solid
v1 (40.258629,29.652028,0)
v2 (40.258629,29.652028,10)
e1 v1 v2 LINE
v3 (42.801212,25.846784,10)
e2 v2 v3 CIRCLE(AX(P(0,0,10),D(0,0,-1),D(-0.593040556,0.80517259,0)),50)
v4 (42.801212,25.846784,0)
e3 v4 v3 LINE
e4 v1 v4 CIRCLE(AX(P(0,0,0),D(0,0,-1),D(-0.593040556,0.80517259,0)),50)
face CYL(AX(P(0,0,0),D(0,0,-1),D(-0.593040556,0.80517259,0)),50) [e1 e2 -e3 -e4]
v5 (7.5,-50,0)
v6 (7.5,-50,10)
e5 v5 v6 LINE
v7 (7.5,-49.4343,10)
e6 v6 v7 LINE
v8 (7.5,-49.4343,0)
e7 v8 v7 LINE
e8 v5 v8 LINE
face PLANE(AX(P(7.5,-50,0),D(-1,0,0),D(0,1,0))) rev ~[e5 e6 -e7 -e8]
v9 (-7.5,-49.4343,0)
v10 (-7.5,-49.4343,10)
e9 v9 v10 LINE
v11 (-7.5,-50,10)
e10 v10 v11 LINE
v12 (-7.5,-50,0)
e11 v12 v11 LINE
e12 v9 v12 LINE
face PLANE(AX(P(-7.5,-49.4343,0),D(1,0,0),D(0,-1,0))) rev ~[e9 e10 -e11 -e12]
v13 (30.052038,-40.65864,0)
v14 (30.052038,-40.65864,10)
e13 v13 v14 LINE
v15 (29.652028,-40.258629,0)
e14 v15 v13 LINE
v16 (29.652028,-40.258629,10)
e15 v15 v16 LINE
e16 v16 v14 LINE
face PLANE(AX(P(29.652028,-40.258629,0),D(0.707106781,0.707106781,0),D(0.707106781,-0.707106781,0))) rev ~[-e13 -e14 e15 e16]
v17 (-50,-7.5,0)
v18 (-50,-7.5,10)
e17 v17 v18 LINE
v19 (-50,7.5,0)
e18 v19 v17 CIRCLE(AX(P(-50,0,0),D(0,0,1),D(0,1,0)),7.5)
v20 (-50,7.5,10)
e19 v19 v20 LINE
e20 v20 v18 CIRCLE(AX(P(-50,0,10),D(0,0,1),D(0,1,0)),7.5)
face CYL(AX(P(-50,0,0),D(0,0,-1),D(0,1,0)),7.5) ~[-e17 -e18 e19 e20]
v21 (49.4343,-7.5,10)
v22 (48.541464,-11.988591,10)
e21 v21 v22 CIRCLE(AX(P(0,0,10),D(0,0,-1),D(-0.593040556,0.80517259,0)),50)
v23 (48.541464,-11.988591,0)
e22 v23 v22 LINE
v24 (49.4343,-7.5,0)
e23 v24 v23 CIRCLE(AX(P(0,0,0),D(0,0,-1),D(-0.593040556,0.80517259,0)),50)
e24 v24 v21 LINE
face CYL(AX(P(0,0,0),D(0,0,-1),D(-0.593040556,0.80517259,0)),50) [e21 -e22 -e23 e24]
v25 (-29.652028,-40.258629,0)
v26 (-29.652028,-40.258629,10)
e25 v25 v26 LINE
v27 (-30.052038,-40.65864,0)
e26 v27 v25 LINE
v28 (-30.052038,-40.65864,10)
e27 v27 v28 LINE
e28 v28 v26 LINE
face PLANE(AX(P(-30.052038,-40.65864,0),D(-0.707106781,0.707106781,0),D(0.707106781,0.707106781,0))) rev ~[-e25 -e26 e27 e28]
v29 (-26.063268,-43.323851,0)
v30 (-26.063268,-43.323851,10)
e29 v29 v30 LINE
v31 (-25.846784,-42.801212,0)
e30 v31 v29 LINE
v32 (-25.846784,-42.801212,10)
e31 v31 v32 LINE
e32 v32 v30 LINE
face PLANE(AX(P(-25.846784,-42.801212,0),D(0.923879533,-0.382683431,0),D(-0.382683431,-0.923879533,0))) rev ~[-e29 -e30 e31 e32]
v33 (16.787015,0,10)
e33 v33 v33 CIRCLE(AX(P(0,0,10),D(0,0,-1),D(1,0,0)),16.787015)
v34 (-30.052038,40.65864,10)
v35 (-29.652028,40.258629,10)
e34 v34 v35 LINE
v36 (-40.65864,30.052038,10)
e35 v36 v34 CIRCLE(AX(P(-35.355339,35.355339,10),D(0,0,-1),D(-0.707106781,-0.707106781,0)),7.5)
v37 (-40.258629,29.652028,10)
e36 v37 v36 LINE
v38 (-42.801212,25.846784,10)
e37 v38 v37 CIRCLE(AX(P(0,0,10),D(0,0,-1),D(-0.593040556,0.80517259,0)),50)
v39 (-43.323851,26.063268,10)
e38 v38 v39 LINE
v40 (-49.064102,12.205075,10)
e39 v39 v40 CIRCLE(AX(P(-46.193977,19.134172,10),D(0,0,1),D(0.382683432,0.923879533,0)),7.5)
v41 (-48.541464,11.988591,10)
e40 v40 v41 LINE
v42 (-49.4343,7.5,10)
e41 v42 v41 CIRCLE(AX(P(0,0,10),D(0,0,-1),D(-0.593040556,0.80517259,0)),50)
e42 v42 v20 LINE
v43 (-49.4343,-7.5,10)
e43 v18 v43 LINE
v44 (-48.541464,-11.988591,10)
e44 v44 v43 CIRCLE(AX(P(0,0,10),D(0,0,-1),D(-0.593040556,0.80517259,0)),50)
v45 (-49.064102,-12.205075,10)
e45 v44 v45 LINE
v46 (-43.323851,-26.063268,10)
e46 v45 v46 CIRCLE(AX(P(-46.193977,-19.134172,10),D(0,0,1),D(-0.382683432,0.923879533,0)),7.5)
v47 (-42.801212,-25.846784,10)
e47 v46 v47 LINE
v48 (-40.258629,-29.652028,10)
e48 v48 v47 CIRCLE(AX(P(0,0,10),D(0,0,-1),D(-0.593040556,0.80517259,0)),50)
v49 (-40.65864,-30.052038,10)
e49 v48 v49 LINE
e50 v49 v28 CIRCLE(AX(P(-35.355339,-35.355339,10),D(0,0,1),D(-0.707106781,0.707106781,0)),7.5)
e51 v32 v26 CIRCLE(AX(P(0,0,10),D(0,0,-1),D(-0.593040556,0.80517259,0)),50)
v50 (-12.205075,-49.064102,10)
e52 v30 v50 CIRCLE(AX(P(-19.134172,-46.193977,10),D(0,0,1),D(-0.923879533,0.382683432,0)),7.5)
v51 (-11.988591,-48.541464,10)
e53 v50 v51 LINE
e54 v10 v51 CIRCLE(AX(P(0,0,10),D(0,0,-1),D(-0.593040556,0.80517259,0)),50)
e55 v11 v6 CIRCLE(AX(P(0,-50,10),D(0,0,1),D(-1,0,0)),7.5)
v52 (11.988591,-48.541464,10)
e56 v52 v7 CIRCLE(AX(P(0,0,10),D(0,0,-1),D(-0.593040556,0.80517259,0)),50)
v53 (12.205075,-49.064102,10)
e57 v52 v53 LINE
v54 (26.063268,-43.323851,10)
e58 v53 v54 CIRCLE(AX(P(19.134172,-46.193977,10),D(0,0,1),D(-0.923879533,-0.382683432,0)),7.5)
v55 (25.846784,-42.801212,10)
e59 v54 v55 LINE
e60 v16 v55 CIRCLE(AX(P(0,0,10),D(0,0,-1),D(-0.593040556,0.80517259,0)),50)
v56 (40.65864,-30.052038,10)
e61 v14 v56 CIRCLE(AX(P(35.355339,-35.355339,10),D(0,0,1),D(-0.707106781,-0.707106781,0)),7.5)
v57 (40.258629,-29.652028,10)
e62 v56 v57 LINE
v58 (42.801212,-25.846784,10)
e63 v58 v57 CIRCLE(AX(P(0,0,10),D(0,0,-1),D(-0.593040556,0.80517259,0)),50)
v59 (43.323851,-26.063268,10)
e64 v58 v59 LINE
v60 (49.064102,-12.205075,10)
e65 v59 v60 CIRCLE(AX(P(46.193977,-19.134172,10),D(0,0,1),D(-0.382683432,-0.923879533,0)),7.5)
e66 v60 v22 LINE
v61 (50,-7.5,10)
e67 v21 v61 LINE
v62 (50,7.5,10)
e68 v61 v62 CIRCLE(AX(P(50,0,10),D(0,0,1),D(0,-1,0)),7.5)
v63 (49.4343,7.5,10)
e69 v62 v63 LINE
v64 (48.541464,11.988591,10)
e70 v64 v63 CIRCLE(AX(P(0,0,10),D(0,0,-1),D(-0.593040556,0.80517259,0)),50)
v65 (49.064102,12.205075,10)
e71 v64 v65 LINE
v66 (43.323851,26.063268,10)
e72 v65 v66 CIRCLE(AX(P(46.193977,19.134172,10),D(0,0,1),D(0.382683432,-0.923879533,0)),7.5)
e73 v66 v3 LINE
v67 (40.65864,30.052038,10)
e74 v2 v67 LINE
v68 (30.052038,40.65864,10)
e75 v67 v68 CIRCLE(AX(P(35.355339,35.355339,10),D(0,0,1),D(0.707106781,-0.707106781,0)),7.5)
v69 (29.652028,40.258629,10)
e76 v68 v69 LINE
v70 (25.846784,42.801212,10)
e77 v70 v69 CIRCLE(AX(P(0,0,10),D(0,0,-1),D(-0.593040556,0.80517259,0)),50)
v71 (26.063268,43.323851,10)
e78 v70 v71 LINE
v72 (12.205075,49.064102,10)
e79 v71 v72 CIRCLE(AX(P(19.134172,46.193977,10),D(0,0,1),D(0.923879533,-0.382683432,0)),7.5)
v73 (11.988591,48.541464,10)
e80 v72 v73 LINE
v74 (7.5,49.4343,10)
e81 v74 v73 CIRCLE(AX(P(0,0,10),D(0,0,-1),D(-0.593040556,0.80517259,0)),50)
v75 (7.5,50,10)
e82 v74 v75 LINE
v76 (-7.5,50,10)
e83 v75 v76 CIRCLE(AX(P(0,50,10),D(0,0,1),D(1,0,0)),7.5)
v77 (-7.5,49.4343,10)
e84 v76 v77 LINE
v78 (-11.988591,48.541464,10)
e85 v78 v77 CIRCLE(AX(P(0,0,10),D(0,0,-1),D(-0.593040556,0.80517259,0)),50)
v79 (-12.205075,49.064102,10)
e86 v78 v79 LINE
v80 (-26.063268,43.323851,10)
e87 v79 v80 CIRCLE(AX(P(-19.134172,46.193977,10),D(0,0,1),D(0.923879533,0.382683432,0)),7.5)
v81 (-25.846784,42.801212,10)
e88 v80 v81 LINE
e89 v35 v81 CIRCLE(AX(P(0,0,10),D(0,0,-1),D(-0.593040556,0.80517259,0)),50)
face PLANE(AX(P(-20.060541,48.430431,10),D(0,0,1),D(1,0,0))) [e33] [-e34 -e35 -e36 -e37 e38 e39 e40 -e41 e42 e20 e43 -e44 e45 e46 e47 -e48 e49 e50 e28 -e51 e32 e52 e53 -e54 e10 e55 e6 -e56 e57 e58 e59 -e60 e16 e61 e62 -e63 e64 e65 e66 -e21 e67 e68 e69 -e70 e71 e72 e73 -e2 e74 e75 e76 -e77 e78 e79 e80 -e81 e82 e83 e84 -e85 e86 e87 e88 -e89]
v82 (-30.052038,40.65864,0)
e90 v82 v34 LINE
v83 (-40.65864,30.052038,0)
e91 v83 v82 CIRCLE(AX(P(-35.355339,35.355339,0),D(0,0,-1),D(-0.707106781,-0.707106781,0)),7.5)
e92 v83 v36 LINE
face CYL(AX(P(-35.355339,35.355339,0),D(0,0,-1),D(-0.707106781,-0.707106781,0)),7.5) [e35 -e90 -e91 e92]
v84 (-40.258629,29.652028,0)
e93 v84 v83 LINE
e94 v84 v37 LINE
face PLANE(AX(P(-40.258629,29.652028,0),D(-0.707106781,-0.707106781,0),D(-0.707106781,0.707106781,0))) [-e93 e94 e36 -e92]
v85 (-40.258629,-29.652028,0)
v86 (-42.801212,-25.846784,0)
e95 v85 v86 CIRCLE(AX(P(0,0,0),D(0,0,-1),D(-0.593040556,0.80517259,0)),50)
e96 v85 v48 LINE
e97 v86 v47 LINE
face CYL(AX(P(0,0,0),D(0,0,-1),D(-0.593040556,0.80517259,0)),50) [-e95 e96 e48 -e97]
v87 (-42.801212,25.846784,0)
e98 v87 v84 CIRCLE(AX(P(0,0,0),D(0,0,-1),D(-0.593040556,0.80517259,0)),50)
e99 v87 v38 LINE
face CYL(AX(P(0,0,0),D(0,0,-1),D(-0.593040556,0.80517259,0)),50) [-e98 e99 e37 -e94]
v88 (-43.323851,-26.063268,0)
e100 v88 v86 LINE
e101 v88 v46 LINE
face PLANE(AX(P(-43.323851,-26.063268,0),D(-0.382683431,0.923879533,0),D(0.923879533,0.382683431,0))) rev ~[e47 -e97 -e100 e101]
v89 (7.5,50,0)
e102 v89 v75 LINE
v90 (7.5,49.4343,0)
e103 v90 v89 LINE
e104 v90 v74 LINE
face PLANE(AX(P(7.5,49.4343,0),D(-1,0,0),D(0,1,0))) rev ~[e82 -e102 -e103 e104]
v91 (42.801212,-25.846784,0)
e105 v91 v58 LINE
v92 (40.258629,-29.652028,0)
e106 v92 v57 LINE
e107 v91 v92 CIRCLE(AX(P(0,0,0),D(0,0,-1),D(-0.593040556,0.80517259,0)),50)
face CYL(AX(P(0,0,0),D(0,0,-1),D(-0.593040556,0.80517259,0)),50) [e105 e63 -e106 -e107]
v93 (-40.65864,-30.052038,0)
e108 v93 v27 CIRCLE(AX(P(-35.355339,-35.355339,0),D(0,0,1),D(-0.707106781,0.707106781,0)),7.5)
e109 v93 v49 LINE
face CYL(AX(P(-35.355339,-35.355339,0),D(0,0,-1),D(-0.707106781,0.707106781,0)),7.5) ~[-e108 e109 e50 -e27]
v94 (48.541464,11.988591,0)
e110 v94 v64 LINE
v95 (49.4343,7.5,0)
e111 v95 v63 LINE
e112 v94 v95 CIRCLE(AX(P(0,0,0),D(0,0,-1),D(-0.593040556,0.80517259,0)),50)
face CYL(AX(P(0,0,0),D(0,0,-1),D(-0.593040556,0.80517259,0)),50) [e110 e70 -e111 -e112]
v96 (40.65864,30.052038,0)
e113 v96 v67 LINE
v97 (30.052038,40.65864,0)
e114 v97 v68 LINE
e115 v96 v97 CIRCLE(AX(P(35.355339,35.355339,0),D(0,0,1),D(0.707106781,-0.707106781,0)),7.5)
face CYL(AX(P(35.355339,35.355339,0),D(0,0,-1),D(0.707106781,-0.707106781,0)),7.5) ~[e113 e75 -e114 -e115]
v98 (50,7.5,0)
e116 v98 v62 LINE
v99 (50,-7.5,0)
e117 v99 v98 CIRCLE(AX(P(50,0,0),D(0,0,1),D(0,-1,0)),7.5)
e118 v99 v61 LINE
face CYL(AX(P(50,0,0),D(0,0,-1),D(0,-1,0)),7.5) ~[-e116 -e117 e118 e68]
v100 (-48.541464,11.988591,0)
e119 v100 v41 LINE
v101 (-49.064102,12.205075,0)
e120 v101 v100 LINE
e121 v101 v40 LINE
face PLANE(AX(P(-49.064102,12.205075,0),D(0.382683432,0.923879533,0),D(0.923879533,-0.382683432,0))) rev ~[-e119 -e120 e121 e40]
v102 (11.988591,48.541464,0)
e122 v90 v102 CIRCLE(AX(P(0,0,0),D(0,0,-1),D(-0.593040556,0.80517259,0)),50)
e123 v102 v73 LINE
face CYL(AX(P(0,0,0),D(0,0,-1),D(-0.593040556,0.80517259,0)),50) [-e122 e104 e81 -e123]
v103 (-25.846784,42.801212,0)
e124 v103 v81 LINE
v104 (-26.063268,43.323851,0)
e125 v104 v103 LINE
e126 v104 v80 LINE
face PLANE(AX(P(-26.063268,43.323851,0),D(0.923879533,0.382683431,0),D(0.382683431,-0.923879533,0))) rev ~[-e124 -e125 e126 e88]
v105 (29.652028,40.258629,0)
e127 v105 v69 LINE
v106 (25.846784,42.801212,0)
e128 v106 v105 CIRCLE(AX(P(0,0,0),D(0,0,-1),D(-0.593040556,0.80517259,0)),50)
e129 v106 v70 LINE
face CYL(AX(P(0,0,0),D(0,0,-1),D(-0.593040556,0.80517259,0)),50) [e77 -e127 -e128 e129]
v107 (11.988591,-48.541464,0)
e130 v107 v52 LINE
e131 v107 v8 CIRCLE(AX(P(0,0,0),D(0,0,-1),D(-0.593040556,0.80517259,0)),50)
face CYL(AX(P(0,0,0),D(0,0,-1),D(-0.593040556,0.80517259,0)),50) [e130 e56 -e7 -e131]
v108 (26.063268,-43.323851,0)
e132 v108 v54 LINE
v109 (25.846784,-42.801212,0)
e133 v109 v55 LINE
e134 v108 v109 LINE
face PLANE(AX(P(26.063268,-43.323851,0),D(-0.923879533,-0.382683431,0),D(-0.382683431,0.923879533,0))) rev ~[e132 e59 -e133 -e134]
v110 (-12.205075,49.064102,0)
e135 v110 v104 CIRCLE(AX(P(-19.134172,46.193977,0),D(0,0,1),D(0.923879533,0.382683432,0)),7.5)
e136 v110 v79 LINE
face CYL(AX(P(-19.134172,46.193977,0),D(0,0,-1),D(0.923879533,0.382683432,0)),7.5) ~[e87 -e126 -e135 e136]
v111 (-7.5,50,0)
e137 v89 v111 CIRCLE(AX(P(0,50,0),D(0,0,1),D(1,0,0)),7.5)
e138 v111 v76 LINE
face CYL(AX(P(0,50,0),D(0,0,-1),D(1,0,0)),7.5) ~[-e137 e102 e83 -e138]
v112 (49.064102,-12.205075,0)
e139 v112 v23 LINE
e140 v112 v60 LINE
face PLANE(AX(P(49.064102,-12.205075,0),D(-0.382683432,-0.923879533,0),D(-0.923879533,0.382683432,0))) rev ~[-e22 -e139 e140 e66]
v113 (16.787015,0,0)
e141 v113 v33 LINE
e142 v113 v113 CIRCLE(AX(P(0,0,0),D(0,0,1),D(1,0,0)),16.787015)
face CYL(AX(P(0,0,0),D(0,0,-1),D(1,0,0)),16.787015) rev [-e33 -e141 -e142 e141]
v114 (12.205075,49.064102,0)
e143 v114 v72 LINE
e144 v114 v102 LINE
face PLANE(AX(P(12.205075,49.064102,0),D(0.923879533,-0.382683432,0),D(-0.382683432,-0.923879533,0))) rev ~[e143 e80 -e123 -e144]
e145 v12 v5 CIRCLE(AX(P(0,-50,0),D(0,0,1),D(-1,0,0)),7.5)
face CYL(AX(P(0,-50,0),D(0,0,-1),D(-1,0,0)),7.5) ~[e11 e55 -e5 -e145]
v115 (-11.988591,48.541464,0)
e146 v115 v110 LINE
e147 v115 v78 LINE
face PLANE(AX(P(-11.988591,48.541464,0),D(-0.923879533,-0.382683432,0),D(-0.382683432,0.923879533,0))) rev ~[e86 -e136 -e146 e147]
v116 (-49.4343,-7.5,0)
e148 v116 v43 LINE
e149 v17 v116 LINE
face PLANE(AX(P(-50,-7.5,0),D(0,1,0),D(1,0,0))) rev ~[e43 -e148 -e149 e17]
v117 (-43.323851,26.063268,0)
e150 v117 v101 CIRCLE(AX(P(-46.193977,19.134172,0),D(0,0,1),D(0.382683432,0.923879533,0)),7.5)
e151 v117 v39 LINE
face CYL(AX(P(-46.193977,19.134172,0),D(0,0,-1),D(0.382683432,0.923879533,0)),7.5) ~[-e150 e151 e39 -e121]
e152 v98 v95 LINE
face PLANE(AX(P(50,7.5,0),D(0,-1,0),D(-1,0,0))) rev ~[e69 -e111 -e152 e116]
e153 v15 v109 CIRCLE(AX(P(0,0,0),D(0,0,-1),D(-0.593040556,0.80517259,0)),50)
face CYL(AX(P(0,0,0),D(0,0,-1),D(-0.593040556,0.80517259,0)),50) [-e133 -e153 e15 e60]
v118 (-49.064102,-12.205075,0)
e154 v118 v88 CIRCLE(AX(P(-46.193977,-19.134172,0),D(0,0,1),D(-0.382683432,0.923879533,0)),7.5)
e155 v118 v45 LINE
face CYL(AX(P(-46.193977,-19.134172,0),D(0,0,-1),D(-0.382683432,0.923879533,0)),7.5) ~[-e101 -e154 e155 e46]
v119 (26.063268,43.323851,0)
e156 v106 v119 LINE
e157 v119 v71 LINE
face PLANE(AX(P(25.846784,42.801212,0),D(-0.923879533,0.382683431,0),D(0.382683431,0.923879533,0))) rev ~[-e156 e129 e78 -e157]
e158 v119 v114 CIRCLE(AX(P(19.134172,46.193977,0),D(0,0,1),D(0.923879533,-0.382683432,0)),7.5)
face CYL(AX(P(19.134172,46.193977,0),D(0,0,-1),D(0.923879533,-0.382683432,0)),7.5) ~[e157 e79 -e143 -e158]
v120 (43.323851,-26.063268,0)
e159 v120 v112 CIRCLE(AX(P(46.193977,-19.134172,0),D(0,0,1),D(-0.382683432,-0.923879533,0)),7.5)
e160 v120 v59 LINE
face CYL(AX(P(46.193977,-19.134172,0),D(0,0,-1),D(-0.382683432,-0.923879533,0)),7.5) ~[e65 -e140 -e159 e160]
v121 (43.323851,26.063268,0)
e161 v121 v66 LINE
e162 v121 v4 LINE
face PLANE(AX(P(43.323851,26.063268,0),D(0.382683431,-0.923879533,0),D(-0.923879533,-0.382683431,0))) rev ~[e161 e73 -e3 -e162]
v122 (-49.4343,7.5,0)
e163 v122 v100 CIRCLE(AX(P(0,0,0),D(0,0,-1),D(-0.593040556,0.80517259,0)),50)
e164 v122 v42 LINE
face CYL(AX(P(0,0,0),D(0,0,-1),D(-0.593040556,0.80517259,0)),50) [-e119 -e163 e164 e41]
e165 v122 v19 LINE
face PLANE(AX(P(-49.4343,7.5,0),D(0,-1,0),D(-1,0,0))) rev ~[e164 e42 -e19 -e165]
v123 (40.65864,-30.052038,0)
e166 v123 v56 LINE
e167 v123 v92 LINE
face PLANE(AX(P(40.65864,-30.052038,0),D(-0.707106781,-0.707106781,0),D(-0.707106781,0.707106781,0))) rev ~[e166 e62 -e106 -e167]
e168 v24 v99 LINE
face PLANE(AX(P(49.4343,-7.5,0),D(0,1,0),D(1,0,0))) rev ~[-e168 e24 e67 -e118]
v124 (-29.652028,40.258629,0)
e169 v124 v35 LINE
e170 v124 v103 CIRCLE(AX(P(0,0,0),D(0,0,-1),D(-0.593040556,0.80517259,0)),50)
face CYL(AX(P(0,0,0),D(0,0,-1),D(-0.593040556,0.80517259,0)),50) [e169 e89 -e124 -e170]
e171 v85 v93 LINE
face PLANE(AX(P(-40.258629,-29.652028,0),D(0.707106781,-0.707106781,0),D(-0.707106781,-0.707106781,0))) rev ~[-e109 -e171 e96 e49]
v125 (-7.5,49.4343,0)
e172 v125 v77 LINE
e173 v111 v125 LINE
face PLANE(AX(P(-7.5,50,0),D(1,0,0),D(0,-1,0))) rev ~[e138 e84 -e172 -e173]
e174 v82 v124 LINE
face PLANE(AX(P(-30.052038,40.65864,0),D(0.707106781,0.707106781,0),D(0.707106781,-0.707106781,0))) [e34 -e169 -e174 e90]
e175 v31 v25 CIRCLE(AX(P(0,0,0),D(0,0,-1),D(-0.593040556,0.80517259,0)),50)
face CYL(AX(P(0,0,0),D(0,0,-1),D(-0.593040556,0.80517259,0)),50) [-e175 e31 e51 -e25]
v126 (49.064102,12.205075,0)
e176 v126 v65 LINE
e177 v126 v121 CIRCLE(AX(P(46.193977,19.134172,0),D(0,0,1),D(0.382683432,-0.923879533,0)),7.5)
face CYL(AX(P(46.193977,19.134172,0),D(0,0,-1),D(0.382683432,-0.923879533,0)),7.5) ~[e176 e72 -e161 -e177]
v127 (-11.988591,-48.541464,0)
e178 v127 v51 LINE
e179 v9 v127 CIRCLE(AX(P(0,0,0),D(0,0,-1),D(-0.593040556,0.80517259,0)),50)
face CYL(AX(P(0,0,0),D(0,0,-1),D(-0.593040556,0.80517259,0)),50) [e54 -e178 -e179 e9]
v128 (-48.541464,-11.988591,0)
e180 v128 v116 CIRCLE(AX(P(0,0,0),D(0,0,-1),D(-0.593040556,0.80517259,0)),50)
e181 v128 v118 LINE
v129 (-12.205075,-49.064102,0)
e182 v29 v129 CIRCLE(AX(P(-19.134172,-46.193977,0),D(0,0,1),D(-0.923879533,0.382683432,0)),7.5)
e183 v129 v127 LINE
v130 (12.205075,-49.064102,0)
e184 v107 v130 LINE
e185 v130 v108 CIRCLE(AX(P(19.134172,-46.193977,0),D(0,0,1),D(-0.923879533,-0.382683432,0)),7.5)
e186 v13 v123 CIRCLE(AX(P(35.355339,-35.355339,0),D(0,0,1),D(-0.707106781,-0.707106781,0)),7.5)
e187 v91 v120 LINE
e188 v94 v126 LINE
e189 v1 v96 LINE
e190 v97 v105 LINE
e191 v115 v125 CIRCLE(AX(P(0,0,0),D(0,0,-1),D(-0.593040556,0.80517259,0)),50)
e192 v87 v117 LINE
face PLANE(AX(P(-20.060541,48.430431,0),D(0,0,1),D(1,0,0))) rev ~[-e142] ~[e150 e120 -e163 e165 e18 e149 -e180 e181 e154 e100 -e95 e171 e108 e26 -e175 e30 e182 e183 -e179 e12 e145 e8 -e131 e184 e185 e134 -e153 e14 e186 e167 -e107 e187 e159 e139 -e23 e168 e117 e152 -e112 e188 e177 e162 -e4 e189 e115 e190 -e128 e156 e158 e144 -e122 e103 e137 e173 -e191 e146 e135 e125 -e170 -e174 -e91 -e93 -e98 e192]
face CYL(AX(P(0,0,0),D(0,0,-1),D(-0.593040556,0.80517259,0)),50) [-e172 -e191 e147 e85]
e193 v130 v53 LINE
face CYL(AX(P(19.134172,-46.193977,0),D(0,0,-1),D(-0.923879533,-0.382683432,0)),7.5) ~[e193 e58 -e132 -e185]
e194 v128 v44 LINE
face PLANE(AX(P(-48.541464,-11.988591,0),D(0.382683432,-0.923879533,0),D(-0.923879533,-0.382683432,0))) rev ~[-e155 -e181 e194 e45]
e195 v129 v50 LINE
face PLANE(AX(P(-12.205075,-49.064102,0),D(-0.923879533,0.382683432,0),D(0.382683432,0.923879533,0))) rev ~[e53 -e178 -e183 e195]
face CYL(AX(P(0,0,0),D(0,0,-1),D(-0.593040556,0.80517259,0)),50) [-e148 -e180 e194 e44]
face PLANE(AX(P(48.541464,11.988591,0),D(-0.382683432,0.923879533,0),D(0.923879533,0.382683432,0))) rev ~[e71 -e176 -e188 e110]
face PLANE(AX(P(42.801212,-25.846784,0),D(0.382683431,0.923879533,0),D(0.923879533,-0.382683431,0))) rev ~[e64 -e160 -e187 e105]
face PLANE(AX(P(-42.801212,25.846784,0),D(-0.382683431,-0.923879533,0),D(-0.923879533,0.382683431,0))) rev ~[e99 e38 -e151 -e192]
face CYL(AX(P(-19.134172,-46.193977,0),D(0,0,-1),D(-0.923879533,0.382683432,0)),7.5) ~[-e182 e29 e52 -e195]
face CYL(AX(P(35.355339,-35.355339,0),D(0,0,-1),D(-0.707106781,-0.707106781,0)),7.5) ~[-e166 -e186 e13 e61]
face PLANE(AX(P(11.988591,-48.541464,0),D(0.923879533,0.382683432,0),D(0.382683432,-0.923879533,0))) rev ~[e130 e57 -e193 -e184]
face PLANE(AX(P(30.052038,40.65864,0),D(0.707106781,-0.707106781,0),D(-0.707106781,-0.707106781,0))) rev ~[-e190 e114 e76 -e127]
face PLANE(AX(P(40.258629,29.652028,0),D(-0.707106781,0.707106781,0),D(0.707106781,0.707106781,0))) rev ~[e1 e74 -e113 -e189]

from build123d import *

# Parameters (mm, degrees)
BOSS_EXTRUDE1_DEPTH     = 10
SKETCH3_R               = 16.787014752
CUT_EXTRUDE6_DEPTH      = 11
CUT_EXTRUDE6_DEPTH_BACK = 35


with BuildPart() as part:
    # Sketch2 → Boss-Extrude1 (new body)
    with BuildSketch(Plane.XY):
        with BuildLine():
            ThreePointArc((-25.846784031, 42.801212077), (-19.134171618, 46.193976626), (-11.988591043, 48.541463563))
            Line((-11.988591043, 48.541463563), (-12.205075124, 49.064102368))
            ThreePointArc((-12.205075124, 49.064102368), (-22.004297361, 53.123073119), (-26.063268112, 43.323850883))
            Line((-26.063268112, 43.323850883), (-25.846784031, 42.801212077))
        make_face()
        with BuildLine():
            ThreePointArc((-7.5, 49.434299833), (0, 50), (7.5, 49.434299833))
            Line((7.5, 49.434299833), (7.5, 50))
            ThreePointArc((7.5, 50), (0, 57.5), (-7.5, 50))
            Line((-7.5, 50), (-7.5, 49.434299833))
        make_face()
        with BuildLine():
            Line((12.205075124, 49.064102368), (11.988591043, 48.541463563))
            ThreePointArc((11.988591043, 48.541463563), (19.134171618, 46.193976626), (25.846784031, 42.801212077))
            Line((25.846784031, 42.801212077), (26.063268112, 43.323850883))
            ThreePointArc((26.063268112, 43.323850883), (22.004297361, 53.123073119), (12.205075124, 49.064102368))
        make_face()
        with BuildLine():
            Line((30.0520382, 40.658639918), (29.652027776, 40.258629494))
            ThreePointArc((29.652027776, 40.258629494), (35.355339059, 35.355339059), (40.258629494, 29.652027776))
            Line((40.258629494, 29.652027776), (40.658639918, 30.0520382))
            ThreePointArc((40.658639918, 30.0520382), (40.658639918, 40.658639918), (30.0520382, 40.658639918))
        make_face()
        with BuildLine():
            Line((43.323850883, 26.063268112), (42.801212077, 25.846784031))
            ThreePointArc((42.801212077, 25.846784031), (46.193976626, 19.134171618), (48.541463563, 11.988591043))
            Line((48.541463563, 11.988591043), (49.064102368, 12.205075124))
            ThreePointArc((49.064102368, 12.205075124), (53.123073119, 22.004297361), (43.323850883, 26.063268112))
        make_face()
        with BuildLine():
            Line((50, 7.5), (49.434299833, 7.5))
            ThreePointArc((49.434299833, 7.5), (50, 0), (49.434299833, -7.5))
            Line((49.434299833, -7.5), (50, -7.5))
            ThreePointArc((50, -7.5), (57.5, 0), (50, 7.5))
        make_face()
        with BuildLine():
            Line((49.064102368, -12.205075124), (48.541463563, -11.988591043))
            ThreePointArc((48.541463563, -11.988591043), (46.193976626, -19.134171618), (42.801212077, -25.846784031))
            Line((42.801212077, -25.846784031), (43.323850883, -26.063268112))
            ThreePointArc((43.323850883, -26.063268112), (53.123073119, -22.004297361), (49.064102368, -12.205075124))
        make_face()
        with BuildLine():
            Line((40.658639918, -30.0520382), (40.258629494, -29.652027776))
            ThreePointArc((40.258629494, -29.652027776), (35.355339059, -35.355339059), (29.652027776, -40.258629494))
            Line((29.652027776, -40.258629494), (30.0520382, -40.658639918))
            ThreePointArc((30.0520382, -40.658639918), (40.658639918, -40.658639918), (40.658639918, -30.0520382))
        make_face()
        with BuildLine():
            Line((26.063268112, -43.323850883), (25.846784031, -42.801212077))
            ThreePointArc((25.846784031, -42.801212077), (19.134171618, -46.193976626), (11.988591043, -48.541463563))
            Line((11.988591043, -48.541463563), (12.205075124, -49.064102368))
            ThreePointArc((12.205075124, -49.064102368), (22.004297361, -53.123073119), (26.063268112, -43.323850883))
        make_face()
        with BuildLine():
            Line((7.5, -50), (7.5, -49.434299833))
            ThreePointArc((7.5, -49.434299833), (0, -50), (-7.5, -49.434299833))
            Line((-7.5, -49.434299833), (-7.5, -50))
            ThreePointArc((-7.5, -50), (0, -57.5), (7.5, -50))
        make_face()
        with BuildLine():
            ThreePointArc((-11.988591043, -48.541463563), (-19.134171618, -46.193976626), (-25.846784031, -42.801212077))
            Line((-25.846784031, -42.801212077), (-26.063268112, -43.323850883))
            ThreePointArc((-26.063268112, -43.323850883), (-22.004297361, -53.123073119), (-12.205075124, -49.064102368))
            Line((-12.205075124, -49.064102368), (-11.988591043, -48.541463563))
        make_face()
        with BuildLine():
            ThreePointArc((-29.652027776, -40.258629494), (-35.355339059, -35.355339059), (-40.258629494, -29.652027776))
            Line((-40.258629494, -29.652027776), (-40.658639918, -30.0520382))
            ThreePointArc((-40.658639918, -30.0520382), (-40.658639918, -40.658639918), (-30.0520382, -40.658639918))
            Line((-30.0520382, -40.658639918), (-29.652027776, -40.258629494))
        make_face()
        with BuildLine():
            ThreePointArc((-42.801212077, -25.846784031), (-46.193976626, -19.134171618), (-48.541463563, -11.988591043))
            Line((-48.541463563, -11.988591043), (-49.064102368, -12.205075124))
            ThreePointArc((-49.064102368, -12.205075124), (-53.123073119, -22.004297361), (-43.323850883, -26.063268112))
            Line((-43.323850883, -26.063268112), (-42.801212077, -25.846784031))
        make_face()
        with BuildLine():
            ThreePointArc((-49.434299833, -7.5), (-50, 0), (-49.434299833, 7.5))
            Line((-49.434299833, 7.5), (-50, 7.5))
            ThreePointArc((-50, 7.5), (-57.5, 0), (-50, -7.5))
            Line((-50, -7.5), (-49.434299833, -7.5))
        make_face()
        with BuildLine():
            ThreePointArc((-48.541463563, 11.988591043), (-46.193976626, 19.134171618), (-42.801212077, 25.846784031))
            Line((-42.801212077, 25.846784031), (-43.323850883, 26.063268112))
            ThreePointArc((-43.323850883, 26.063268112), (-53.123073119, 22.004297361), (-49.064102368, 12.205075124))
            Line((-49.064102368, 12.205075124), (-48.541463563, 11.988591043))
        make_face()
        with BuildLine():
            Line((-40.258629494, 29.652027776), (-40.658639918, 30.0520382))
            ThreePointArc((-40.658639918, 30.0520382), (-40.658639918, 40.658639918), (-30.0520382, 40.658639918))
            Line((-30.0520382, 40.658639918), (-29.652027776, 40.258629494))
            ThreePointArc((-29.652027776, 40.258629494), (35.355339059, -35.355339059), (-40.258629494, 29.652027776))
        make_face()
    extrude(amount=BOSS_EXTRUDE1_DEPTH)

    # Sketch3 → Cut-Extrude6 (cut, two sides)
    with BuildSketch(Plane.XY) as cut_extrude6_sk:
        Circle(SKETCH3_R)
    extrude(amount=CUT_EXTRUDE6_DEPTH, mode=Mode.SUBTRACT)
    extrude(cut_extrude6_sk.sketch, amount=-CUT_EXTRUDE6_DEPTH_BACK, mode=Mode.SUBTRACT)


solid = part.part
